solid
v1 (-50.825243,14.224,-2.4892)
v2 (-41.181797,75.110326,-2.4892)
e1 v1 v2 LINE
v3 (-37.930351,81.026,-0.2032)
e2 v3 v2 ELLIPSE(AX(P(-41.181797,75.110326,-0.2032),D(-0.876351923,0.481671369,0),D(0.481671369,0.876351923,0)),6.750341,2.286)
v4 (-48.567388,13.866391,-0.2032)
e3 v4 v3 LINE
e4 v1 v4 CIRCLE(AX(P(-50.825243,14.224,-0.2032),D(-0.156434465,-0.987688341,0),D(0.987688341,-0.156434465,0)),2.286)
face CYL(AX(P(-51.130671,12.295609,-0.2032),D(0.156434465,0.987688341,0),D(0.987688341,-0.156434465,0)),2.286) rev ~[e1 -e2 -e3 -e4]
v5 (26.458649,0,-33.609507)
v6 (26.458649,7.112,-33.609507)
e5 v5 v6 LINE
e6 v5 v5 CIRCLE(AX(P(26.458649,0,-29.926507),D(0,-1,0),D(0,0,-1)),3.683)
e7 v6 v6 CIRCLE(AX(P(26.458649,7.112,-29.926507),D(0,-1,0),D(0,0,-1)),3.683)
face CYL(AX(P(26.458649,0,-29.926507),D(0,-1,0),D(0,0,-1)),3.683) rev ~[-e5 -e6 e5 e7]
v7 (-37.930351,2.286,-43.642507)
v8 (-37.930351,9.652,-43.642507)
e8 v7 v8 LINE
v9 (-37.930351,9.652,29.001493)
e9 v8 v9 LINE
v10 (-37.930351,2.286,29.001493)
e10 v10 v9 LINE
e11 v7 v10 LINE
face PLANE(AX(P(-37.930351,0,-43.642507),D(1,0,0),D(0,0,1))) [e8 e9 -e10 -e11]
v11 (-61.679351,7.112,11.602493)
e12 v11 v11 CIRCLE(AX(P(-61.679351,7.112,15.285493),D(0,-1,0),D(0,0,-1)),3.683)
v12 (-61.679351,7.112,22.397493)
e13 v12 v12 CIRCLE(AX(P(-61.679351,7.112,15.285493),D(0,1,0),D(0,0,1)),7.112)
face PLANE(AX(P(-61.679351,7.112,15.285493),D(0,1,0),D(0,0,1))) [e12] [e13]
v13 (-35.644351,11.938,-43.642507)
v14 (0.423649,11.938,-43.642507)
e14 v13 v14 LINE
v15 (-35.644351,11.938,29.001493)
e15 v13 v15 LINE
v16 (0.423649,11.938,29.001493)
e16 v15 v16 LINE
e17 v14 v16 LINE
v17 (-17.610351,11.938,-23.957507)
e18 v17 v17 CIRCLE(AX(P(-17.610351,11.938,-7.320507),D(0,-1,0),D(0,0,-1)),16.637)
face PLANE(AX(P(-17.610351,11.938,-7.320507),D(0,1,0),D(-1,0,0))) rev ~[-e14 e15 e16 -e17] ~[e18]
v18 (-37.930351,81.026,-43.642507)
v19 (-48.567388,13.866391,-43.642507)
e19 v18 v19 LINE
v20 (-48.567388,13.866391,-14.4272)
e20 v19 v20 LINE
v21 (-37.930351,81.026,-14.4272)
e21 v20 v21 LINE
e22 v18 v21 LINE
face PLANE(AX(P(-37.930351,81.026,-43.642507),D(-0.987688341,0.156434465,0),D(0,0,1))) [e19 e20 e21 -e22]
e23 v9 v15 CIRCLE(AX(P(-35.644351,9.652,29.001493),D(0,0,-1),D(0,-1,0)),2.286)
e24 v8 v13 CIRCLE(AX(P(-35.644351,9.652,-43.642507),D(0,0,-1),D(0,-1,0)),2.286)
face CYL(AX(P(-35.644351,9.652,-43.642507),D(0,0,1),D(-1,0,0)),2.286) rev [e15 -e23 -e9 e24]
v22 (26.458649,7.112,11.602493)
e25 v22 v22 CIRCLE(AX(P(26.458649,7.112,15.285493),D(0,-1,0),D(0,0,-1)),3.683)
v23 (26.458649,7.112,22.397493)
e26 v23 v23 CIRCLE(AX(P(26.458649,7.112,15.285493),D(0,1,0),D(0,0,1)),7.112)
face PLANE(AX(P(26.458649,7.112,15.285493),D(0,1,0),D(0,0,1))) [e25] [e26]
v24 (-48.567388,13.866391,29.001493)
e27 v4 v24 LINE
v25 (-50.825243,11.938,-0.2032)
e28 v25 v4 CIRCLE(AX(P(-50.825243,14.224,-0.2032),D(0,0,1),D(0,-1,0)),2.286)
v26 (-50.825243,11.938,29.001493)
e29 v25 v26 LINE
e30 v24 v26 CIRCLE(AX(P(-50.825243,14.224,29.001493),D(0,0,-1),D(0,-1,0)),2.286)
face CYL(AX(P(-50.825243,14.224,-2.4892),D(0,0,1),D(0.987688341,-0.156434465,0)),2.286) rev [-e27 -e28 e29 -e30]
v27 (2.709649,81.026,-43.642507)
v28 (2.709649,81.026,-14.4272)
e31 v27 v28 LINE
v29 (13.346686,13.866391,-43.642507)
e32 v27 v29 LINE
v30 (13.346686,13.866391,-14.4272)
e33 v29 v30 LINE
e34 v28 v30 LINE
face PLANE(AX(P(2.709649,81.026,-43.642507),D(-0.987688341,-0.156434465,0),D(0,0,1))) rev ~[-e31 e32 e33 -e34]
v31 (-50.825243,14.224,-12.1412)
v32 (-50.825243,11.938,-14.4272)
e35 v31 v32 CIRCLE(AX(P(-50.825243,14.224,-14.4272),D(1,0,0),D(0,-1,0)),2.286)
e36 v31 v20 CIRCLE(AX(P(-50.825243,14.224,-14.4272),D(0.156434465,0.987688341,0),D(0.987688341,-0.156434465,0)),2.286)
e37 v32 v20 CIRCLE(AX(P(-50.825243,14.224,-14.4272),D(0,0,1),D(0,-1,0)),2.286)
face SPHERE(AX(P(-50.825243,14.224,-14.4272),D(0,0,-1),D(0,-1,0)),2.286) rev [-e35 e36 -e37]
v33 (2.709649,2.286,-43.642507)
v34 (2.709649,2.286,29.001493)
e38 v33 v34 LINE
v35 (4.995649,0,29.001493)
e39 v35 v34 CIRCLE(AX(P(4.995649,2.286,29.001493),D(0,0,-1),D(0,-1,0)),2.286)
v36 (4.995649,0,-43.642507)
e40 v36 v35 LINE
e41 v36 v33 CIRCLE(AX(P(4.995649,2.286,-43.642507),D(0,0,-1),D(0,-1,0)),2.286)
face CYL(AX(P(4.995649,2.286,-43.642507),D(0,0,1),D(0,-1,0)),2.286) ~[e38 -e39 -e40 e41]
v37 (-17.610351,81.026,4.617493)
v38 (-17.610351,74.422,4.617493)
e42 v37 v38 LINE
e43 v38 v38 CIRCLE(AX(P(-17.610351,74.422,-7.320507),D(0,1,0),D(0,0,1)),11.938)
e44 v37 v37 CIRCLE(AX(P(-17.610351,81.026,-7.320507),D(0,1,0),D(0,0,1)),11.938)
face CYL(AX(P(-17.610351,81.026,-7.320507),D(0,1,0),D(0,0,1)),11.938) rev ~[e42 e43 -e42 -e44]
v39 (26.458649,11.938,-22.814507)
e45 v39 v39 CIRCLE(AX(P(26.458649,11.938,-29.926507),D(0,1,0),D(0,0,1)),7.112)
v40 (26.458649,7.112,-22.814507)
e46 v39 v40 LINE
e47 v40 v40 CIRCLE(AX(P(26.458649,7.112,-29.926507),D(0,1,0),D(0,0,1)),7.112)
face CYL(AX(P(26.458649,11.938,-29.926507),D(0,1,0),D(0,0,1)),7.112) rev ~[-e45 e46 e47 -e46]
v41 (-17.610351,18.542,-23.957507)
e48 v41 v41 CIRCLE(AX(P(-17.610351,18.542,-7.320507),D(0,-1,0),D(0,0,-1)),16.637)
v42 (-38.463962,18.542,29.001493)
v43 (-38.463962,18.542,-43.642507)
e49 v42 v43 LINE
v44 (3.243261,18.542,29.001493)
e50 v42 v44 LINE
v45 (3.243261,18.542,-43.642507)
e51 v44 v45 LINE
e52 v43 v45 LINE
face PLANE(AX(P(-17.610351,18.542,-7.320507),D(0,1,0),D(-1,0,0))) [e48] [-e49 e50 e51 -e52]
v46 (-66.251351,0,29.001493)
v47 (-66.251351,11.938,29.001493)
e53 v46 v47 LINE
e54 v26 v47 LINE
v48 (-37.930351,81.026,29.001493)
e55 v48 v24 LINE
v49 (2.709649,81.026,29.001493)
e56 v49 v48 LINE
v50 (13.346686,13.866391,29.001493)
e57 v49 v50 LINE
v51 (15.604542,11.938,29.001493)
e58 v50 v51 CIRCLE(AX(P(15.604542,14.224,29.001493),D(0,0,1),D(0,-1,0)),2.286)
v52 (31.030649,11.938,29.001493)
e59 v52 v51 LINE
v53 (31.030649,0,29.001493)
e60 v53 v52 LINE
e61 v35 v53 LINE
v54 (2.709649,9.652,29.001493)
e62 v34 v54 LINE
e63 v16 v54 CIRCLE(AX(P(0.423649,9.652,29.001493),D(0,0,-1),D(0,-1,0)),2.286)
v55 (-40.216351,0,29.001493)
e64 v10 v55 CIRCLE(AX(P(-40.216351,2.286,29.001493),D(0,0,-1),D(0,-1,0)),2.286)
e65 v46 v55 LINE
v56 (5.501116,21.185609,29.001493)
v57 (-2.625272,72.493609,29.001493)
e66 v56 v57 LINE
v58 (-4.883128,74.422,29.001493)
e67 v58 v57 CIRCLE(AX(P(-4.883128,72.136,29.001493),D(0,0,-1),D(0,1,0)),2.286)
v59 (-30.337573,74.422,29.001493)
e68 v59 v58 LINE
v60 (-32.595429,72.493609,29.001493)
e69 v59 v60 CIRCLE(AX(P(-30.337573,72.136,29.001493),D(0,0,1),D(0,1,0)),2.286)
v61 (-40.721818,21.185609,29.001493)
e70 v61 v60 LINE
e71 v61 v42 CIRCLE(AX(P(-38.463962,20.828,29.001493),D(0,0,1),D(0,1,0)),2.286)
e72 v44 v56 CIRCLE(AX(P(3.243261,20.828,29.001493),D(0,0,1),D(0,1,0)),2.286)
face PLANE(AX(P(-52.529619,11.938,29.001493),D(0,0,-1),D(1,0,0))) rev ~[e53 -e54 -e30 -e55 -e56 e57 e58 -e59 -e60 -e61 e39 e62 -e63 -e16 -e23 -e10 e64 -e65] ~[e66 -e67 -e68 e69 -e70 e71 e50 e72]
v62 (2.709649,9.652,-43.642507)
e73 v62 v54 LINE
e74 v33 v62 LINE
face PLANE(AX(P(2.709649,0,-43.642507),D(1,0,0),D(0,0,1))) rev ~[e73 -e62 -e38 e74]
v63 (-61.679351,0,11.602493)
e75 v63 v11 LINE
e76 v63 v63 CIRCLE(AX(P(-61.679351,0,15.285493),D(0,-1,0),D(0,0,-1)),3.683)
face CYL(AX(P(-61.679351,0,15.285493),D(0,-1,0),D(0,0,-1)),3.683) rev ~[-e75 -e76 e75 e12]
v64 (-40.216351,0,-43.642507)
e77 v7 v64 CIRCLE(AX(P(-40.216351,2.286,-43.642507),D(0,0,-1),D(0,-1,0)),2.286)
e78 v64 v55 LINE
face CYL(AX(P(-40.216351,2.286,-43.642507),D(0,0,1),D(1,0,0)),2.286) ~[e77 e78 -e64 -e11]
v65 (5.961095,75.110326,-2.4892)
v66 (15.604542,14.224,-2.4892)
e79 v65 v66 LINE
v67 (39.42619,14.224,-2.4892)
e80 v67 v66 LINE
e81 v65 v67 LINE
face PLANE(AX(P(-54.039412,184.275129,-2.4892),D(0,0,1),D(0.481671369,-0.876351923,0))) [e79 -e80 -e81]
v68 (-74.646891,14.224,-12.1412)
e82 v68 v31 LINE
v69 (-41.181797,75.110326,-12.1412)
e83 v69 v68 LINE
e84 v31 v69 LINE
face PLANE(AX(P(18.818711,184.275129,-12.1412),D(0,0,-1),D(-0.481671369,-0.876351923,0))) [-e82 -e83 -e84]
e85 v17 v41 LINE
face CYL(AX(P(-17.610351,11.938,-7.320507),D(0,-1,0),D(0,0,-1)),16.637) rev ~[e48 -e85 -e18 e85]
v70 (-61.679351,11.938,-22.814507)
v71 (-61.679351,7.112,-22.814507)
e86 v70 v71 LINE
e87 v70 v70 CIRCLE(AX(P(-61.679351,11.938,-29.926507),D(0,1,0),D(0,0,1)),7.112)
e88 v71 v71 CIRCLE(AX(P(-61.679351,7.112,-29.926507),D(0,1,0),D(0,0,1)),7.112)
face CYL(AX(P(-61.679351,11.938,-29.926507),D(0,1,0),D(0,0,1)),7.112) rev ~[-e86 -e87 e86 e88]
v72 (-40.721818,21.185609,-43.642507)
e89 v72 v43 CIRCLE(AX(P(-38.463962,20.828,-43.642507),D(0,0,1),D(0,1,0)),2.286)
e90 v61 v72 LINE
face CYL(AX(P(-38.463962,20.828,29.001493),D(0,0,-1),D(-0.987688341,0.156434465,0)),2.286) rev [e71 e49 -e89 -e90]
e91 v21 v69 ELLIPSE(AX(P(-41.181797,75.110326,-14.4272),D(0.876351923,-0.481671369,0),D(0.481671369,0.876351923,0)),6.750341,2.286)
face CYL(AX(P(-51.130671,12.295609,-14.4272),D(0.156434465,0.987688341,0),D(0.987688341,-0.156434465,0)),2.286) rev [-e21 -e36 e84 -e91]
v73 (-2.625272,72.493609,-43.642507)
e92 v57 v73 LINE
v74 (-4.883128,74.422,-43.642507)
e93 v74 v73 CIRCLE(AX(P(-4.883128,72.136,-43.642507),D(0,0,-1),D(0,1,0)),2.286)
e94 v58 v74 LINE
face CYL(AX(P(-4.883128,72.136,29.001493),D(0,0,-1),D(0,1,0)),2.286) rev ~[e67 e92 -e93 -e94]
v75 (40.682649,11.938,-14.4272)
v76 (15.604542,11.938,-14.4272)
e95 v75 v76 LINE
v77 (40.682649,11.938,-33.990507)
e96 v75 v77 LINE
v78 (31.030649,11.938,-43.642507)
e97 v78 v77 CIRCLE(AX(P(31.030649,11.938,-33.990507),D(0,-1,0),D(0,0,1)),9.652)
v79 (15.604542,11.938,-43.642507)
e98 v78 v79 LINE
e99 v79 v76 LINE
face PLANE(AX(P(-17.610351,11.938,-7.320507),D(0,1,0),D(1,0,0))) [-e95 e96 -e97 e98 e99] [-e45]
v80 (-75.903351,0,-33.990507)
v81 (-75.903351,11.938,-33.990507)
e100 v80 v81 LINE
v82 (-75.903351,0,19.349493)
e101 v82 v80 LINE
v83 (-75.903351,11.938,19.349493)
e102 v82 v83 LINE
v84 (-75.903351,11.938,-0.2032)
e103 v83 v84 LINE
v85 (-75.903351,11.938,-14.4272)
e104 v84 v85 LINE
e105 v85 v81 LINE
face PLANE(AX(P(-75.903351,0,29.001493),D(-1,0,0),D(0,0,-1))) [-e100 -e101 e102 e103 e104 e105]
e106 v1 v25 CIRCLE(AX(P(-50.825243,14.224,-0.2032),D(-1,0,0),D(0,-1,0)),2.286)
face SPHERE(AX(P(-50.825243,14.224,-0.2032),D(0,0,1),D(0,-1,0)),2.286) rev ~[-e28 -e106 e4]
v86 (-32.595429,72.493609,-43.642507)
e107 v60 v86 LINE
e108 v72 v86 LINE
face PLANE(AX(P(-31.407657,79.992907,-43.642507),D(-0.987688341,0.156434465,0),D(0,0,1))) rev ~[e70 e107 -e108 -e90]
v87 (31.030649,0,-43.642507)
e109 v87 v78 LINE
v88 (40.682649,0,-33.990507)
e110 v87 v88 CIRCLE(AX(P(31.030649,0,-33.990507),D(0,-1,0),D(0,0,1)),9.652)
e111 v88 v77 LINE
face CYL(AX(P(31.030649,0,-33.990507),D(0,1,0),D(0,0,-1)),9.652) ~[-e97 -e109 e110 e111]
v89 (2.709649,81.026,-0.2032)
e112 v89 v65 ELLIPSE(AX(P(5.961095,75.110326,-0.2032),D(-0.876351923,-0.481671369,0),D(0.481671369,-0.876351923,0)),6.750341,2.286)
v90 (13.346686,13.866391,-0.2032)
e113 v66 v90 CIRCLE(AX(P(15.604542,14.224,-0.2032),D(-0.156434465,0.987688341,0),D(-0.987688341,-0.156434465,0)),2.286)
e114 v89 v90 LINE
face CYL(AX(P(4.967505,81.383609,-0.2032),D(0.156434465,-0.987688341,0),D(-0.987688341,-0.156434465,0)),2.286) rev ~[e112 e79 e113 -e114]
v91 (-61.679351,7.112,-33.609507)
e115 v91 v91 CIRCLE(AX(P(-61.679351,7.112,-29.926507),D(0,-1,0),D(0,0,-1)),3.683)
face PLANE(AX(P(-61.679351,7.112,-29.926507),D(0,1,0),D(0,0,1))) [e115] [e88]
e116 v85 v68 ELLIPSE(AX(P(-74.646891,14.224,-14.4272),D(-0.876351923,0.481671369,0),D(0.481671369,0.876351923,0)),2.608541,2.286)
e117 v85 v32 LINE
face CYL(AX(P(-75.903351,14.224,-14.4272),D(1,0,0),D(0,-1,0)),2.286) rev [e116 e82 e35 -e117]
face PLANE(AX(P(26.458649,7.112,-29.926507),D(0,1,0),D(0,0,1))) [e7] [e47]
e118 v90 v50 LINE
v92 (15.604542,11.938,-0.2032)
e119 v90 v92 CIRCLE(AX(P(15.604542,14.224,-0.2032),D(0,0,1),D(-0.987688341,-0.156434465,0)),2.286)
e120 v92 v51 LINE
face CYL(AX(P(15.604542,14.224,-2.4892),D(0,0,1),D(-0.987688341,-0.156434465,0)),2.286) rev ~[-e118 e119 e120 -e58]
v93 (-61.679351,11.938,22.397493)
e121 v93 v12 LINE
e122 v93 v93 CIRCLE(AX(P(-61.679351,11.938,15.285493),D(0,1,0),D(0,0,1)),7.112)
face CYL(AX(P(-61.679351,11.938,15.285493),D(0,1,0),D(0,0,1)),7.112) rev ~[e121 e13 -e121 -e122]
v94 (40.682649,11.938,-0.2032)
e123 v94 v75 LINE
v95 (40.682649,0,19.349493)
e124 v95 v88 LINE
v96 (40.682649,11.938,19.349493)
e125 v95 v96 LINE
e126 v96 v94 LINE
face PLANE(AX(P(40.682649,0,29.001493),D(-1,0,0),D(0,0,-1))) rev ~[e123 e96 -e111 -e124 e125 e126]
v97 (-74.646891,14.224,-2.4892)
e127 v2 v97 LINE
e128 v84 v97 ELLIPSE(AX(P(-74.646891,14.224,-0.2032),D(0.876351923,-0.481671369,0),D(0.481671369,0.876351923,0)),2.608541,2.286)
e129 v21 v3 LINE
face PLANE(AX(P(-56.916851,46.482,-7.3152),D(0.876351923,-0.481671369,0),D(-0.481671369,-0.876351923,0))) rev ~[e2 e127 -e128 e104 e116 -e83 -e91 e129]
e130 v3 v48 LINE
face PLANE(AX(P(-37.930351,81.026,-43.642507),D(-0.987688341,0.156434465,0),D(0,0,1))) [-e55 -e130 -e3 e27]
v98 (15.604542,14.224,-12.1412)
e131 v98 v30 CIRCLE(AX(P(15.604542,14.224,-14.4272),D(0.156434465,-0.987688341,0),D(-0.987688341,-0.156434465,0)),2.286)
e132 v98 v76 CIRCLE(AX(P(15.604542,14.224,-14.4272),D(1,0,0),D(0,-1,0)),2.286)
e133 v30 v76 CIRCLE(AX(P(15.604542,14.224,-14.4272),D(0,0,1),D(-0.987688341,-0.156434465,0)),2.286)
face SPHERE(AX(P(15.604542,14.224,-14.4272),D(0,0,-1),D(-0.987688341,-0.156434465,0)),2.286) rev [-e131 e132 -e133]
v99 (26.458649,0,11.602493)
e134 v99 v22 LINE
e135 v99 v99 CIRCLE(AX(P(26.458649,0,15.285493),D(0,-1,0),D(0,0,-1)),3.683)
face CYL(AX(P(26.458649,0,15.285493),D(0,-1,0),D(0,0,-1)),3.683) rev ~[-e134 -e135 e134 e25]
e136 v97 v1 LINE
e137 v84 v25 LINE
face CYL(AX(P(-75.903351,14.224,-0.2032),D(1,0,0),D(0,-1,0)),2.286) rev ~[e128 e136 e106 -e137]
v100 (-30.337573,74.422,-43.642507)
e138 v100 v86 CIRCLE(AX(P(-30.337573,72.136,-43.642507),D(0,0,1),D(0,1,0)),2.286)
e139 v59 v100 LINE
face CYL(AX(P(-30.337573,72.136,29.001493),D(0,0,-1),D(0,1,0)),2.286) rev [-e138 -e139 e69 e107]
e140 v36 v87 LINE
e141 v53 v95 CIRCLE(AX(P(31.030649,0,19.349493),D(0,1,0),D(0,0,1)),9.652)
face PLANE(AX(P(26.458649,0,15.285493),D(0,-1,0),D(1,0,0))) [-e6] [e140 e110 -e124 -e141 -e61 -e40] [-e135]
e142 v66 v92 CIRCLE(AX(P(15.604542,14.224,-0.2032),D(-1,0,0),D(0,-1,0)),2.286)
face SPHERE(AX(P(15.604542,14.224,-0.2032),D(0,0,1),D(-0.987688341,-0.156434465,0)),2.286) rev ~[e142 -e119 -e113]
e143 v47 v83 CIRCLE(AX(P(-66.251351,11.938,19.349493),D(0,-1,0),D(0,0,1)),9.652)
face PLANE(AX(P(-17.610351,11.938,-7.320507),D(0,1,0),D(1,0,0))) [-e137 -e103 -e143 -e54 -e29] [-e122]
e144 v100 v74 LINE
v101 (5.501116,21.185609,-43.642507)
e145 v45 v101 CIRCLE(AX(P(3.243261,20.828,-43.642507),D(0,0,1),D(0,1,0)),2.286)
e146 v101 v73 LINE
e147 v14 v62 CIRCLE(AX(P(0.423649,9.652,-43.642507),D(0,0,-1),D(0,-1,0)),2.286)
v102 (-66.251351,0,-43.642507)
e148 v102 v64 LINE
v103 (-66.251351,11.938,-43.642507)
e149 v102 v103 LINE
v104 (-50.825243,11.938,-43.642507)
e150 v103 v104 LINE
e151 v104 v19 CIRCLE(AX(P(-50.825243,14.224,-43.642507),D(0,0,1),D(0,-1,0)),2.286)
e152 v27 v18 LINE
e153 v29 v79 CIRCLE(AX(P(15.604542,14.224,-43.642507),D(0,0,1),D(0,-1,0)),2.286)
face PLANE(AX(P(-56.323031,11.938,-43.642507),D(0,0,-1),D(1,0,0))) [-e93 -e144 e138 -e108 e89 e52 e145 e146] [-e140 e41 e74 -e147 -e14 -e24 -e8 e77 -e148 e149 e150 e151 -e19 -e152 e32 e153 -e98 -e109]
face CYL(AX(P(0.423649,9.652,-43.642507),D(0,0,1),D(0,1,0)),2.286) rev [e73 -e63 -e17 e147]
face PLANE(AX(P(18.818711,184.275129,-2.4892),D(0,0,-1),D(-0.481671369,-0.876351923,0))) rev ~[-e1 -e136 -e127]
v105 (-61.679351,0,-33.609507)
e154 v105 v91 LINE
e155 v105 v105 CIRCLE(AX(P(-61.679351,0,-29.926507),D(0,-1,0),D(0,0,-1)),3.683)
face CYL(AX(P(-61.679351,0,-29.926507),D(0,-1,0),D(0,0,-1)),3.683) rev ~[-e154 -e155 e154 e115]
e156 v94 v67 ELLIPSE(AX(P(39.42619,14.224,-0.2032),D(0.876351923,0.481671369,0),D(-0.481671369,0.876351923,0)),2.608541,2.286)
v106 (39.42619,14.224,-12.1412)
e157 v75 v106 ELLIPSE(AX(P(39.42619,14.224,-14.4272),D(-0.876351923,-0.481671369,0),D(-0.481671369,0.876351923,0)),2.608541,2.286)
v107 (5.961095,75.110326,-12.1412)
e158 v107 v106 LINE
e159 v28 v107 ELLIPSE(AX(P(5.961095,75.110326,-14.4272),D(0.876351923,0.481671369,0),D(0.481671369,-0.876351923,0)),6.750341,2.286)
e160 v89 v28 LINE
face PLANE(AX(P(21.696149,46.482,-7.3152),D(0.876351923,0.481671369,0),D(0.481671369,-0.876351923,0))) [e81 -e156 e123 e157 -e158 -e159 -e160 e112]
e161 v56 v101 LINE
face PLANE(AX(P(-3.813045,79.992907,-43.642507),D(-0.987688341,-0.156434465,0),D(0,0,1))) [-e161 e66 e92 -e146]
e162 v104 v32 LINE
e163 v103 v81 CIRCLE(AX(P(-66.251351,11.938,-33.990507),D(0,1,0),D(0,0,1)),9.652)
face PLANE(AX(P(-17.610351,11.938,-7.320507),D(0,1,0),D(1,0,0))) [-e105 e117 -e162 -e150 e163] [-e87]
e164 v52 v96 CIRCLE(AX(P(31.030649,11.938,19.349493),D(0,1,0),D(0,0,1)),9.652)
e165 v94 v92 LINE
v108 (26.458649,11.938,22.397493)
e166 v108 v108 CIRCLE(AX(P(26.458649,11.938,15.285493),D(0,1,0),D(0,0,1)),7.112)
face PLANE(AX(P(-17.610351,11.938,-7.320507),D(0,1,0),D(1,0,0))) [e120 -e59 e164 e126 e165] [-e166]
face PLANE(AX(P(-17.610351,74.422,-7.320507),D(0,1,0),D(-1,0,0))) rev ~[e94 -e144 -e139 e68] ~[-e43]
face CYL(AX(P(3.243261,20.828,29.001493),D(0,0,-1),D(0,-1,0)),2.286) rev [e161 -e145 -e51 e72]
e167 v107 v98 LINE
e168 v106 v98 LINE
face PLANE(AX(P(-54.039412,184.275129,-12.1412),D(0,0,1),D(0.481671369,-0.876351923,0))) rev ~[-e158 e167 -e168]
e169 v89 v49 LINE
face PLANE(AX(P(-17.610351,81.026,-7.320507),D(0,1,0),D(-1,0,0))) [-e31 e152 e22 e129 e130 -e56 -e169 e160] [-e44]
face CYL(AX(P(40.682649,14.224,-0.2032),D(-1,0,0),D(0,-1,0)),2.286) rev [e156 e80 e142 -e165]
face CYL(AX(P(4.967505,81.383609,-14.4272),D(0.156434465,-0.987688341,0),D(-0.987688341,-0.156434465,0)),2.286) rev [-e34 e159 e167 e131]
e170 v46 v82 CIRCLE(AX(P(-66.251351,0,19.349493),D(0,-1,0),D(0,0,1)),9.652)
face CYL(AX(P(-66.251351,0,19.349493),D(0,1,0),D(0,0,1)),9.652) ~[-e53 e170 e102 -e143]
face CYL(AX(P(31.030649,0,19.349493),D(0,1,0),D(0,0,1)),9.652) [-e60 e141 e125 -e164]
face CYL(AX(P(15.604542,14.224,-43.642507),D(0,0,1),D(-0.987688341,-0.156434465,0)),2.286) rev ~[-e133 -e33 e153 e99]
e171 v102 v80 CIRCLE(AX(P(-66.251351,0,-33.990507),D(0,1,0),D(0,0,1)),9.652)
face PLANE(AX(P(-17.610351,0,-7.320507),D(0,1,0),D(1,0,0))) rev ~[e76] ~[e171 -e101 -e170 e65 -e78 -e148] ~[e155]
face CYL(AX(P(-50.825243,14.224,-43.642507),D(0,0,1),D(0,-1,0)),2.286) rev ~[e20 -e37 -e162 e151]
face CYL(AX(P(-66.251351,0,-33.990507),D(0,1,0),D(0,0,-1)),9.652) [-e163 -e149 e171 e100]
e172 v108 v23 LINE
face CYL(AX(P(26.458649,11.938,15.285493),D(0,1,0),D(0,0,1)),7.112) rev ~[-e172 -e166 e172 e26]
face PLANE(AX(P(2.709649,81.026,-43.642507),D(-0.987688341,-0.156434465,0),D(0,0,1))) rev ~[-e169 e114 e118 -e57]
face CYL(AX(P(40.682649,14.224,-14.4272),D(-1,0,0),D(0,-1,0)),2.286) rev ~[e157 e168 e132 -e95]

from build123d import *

# Parameters (mm, degrees)
SKETCH1_W            = 116.586
SKETCH1_H            = 72.644
EXTRUDE1_DEPTH       = 11.938
SKETCH2_R            = 9.517718459
CUT_EXTRUDE1_DEPTH   = 89.365734061
SKETCH5_W            = 40.64
SKETCH5_H            = 72.644
EXTRUDE3_DEPTH       = 69.088
EXTRUDE3_DRAFT       = 9
SKETCH6_W            = 40.64
SKETCH6_H            = 72.644
CUT_EXTRUDE3_DEPTH   = 11.938
SKETCH7_W            = 69.622985634
SKETCH7_H            = 14.548045231
CUT_EXTRUDE4_DEPTH   = 117.249686156
SKETCH8_W            = 84.138542923
SKETCH8_H            = 16.028207861
CUT_EXTRUDE5_DEPTH   = 117.249686156
SHELL1_T             = -6.604
CUT_EXTRUDE6_REACH   = 113.531
SKETCH9_R            = 16.637
CUT_EXTRUDE7_REACH   = 121.295
SKETCH10_R           = 11.938
SKETCH14_R           = 9.517718459
EXTRUDE5_DEPTH       = 11.938
SKETCH15_R           = 3.683
CUT_EXTRUDE10_DEPTH  = 120.294592451
SKETCH16_R           = 7.112
CUT_EXTRUDE11_DEPTH  = 4.826
LPATTERN2_COUNT      = 2
LPATTERN2_PITCH      = 45.212
LPATTERN2_COUNT_DIR2 = 2
LPATTERN2_PITCH_DIR2 = 88.138
FILLET1_R            = 9.652
FILLET2_R            = 2.286
FILLET3_R            = 2.286
RIB1_REACH           = 118.817
SKETCH21_WALL_W      = 314.469849536
SKETCH21_WALL_H      = 9.652
RIB2_REACH           = 118.817
SKETCH22_WALL_W      = 314.469849536
SKETCH22_WALL_H      = 9.652
FILLET4_R            = 2.286
FILLET5_R            = 2.286


with BuildPart() as part:
    # Sketch1 → Extrude1 (new body)
    with BuildSketch(Plane(origin=(0, 0, 0), x_dir=(1, 0, 0), z_dir=(0, 1, 0))):
        with Locations((-17.610350746, 7.320507463)):
            Rectangle(SKETCH1_W, SKETCH1_H)
    extrude(amount=EXTRUDE1_DEPTH)

    # Sketch2 → Cut-Extrude1 (cut, through all)
    with BuildSketch(Plane(origin=(0, 11.938, 0), x_dir=(-1, 0, 0), z_dir=(0, 1, 0))):
        with Locations(Location((-26.458649254, 15.285492537, 0), (0, 0, 90))):
            Circle(SKETCH2_R)
    extrude(amount=-CUT_EXTRUDE1_DEPTH, mode=Mode.SUBTRACT)


with BuildPart() as extrude3_tool:
    # Sketch5 → Extrude3 (with draft: the straight prism first)
    with BuildSketch(Plane(origin=(0, 81.026, 0), x_dir=(-1, 0, 0), z_dir=(0, 1, 0))):
        with Locations((17.610350746, -7.320507463)):
            Rectangle(SKETCH5_W, SKETCH5_H)
    extrude(amount=-EXTRUDE3_DEPTH)
    # Extrude3: the draft: its side faces are tilted about the plane it starts from
    extrude3_sides = [extrude3_tool.faces().sort_by_distance(p)[0] for p in [
        (-37.930350746, 46.482, -7.320507463),
        (-17.610350746, 46.482, 29.001492537),
        (2.709649254, 46.482, -7.320507463),
        (-17.610350746, 46.482, -43.642507463),
    ]]
    draft(extrude3_sides, Plane(origin=(0, 81.026, 0), x_dir=(-1, 0, 0), z_dir=(0, 1, 0)), EXTRUDE3_DRAFT)


with BuildPart() as part_1:
    add(part.part)

    # Extrude3: add extrude3_tool
    add(extrude3_tool.part)

    # Sketch6 → Cut-Extrude3 (cut)
    with BuildSketch(Plane.XZ):
        with Locations((-17.610350746, -7.320507463)):
            Rectangle(SKETCH6_W, SKETCH6_H)
    extrude(amount=-CUT_EXTRUDE3_DEPTH, mode=Mode.SUBTRACT)

    # Sketch7 → Cut-Extrude4 (cut, through all)
    with BuildSketch(Plane.XZ.offset(-11.938)):
        with Locations((-17.718126266, 36.275515152)):
            Rectangle(SKETCH7_W, SKETCH7_H)
    extrude(amount=-CUT_EXTRUDE4_DEPTH, mode=Mode.SUBTRACT)

    # Sketch8 → Cut-Extrude5 (cut, through all)
    with BuildSketch(Plane.XZ.offset(-11.938)):
        with Locations((-14.253759939, -51.656611394)):
            Rectangle(SKETCH8_W, SKETCH8_H)
    extrude(amount=-CUT_EXTRUDE5_DEPTH, mode=Mode.SUBTRACT)

    # Shell1
    shell1_openings = [part_1.faces().sort_by_distance(p)[0] for p in [
        (-17.610350746, 36.31822783, -43.642507463),
        (-17.610350746, 36.31822783, 29.001492537),
    ]]
    offset(amount=SHELL1_T, openings=shell1_openings, kind=Kind.INTERSECTION)

    # Sketch9 → Cut-Extrude6 (cut, up to next)
    with BuildSketch(Plane.XZ.offset(-11.938), mode=Mode.PRIVATE) as cut_extrude6_sk1:
        with Locations(Location((-17.610350746, -7.320507463, 0), (0, 0, 270))):
            Circle(SKETCH9_R)
    cut_extrude6_tool1 = extrude(cut_extrude6_sk1.sketch, amount=-CUT_EXTRUDE6_REACH, mode=Mode.PRIVATE) & part_1.part
    add(cut_extrude6_tool1.solids().sort_by_distance((-17.610351, 11.938, -7.320507))[0], mode=Mode.SUBTRACT)

    # Sketch10 → Cut-Extrude7 (cut, up to next)
    with BuildSketch(Plane(origin=(0, 81.026, 0), x_dir=(-1, 0, 0), z_dir=(0, 1, 0)), mode=Mode.PRIVATE) as cut_extrude7_sk1:
        with Locations(Location((17.610350746, -7.320507463, 0), (0, 0, 90))):
            Circle(SKETCH10_R)
    cut_extrude7_tool1 = extrude(cut_extrude7_sk1.sketch, amount=-CUT_EXTRUDE7_REACH, mode=Mode.PRIVATE) & part_1.part
    add(cut_extrude7_tool1.solids().sort_by_distance((-17.610351, 81.026, -7.320507))[0], mode=Mode.SUBTRACT)

    # Sketch14 → Extrude5 (add)
    with BuildSketch(Plane.XZ):
        with Locations((26.458649254, 15.285492537)):
            Circle(SKETCH14_R)
    extrude(amount=-EXTRUDE5_DEPTH)

    # Sketch15 → Cut-Extrude10 (cut, through all)
    with BuildSketch(Plane.XZ):
        with Locations(Location((26.458649254, 15.285492537, 0), (0, 0, 270))):
            Circle(SKETCH15_R)
    cut_extrude10 = extrude(amount=-CUT_EXTRUDE10_DEPTH, mode=Mode.SUBTRACT)

    # Sketch16 → Cut-Extrude11 (cut)
    with BuildSketch(Plane(origin=(0, 11.938, 0), x_dir=(-1, 0, 0), z_dir=(0, 1, 0))):
        with Locations(Location((-26.458649254, 15.285492537, 0), (0, 0, 90))):
            Circle(SKETCH16_R)
    cut_extrude11 = extrude(amount=-CUT_EXTRUDE11_DEPTH, mode=Mode.SUBTRACT)

    # LPattern2: Cut-Extrude10, Cut-Extrude11 2 × 2
    with Locations(*[(-j * LPATTERN2_PITCH_DIR2, 0, -i * LPATTERN2_PITCH) for i in range(LPATTERN2_COUNT) for j in range(LPATTERN2_COUNT_DIR2) if (i, j) != (0, 0)]):
        add(cut_extrude10, mode=Mode.SUBTRACT)
        add(cut_extrude11, mode=Mode.SUBTRACT)

    # Fillet1
    fillet1_edges = [part_1.edges().sort_by_distance(p)[0] for p in [
        (-75.903350746, 5.969, -43.642507463),
        (40.682649254, 5.969, -43.642507463),
        (40.682649254, 5.969, 29.001492537),
        (-75.903350746, 5.969, 29.001492537),
    ]]
    fillet(fillet1_edges, radius=FILLET1_R)

    # Fillet2
    fillet2_edges = [part_1.edges().sort_by_distance(p)[0] for p in [
        (5.919822932, 18.542, -7.320507463),
        (-41.140524425, 18.542, -7.320507463),
        (-32.290001899, 74.422, -7.320507463),
        (-2.930699593, 74.422, -7.320507463),
    ]]
    fillet(fillet2_edges, radius=FILLET2_R)

    # Fillet3
    fillet3_edges = [part_1.edges().sort_by_distance(p)[0] for p in [
        (-37.930350746, 11.938, -7.320507463),
        (2.709649254, 11.938, -7.320507463),
    ]]
    fillet(fillet3_edges, radius=FILLET3_R)

    # Sketch21 wall → Rib1 (add, up to next)
    with BuildSketch(Plane(origin=(21.696149254, 46.482, -7.3152), x_dir=(0.481671369181, -0.876351922524, 0), z_dir=(0.876351922524, 0.481671369181, 0)), mode=Mode.PRIVATE) as rib1_sk1:
        Rectangle(SKETCH21_WALL_W, SKETCH21_WALL_H)
    rib1_tool1 = extrude(rib1_sk1.sketch, amount=-RIB1_REACH, mode=Mode.PRIVATE) - part_1.part
    add(rib1_tool1.solids().sort_by_distance((21.696149254, 46.482, -7.3152))[0])

    # Sketch22 wall → Rib2 (add, up to next)
    with BuildSketch(Plane(origin=(-56.916850746, 46.482, -7.3152), x_dir=(-0.481671369181, -0.876351922524, 0), z_dir=(0.876351922524, -0.481671369181, 0)), mode=Mode.PRIVATE) as rib2_sk1:
        Rectangle(SKETCH22_WALL_W, SKETCH22_WALL_H)
    rib2_tool1 = extrude(rib2_sk1.sketch, amount=RIB2_REACH, mode=Mode.PRIVATE) - part_1.part
    add(rib2_tool1.solids().sort_by_distance((-56.916850746, 46.482, -7.3152))[0])

    # Fillet4
    fillet4_edges = [part_1.edges().sort_by_distance(p)[0] for p in [
        (13.652113467, 11.938, 13.256146269),
        (-48.872814959, 11.938, -27.891853731),
        (13.652113467, 11.938, -27.891853731),
        (8.18088136, 46.482, -12.1412),
        (27.16738136, 11.938, -12.1412),
        (8.18088136, 46.482, -2.4892),
        (27.16738136, 11.938, -2.4892),
        (-48.872814959, 11.938, 13.256146269),
        (-62.388082853, 11.938, -2.4892),
        (-43.401582853, 46.482, -2.4892),
        (-62.388082853, 11.938, -12.1412),
        (-43.401582853, 46.482, -12.1412),
    ]]
    fillet(fillet4_edges, radius=FILLET4_R)

    # Fillet5
    fillet5_edges = [part_1.edges().sort_by_distance(p)[0] for p in [
        (-37.930350746, 0, -7.320507463),
        (2.709649254, 0, -7.320507463),
    ]]
    fillet(fillet5_edges, radius=FILLET5_R)


solid = part_1.part
